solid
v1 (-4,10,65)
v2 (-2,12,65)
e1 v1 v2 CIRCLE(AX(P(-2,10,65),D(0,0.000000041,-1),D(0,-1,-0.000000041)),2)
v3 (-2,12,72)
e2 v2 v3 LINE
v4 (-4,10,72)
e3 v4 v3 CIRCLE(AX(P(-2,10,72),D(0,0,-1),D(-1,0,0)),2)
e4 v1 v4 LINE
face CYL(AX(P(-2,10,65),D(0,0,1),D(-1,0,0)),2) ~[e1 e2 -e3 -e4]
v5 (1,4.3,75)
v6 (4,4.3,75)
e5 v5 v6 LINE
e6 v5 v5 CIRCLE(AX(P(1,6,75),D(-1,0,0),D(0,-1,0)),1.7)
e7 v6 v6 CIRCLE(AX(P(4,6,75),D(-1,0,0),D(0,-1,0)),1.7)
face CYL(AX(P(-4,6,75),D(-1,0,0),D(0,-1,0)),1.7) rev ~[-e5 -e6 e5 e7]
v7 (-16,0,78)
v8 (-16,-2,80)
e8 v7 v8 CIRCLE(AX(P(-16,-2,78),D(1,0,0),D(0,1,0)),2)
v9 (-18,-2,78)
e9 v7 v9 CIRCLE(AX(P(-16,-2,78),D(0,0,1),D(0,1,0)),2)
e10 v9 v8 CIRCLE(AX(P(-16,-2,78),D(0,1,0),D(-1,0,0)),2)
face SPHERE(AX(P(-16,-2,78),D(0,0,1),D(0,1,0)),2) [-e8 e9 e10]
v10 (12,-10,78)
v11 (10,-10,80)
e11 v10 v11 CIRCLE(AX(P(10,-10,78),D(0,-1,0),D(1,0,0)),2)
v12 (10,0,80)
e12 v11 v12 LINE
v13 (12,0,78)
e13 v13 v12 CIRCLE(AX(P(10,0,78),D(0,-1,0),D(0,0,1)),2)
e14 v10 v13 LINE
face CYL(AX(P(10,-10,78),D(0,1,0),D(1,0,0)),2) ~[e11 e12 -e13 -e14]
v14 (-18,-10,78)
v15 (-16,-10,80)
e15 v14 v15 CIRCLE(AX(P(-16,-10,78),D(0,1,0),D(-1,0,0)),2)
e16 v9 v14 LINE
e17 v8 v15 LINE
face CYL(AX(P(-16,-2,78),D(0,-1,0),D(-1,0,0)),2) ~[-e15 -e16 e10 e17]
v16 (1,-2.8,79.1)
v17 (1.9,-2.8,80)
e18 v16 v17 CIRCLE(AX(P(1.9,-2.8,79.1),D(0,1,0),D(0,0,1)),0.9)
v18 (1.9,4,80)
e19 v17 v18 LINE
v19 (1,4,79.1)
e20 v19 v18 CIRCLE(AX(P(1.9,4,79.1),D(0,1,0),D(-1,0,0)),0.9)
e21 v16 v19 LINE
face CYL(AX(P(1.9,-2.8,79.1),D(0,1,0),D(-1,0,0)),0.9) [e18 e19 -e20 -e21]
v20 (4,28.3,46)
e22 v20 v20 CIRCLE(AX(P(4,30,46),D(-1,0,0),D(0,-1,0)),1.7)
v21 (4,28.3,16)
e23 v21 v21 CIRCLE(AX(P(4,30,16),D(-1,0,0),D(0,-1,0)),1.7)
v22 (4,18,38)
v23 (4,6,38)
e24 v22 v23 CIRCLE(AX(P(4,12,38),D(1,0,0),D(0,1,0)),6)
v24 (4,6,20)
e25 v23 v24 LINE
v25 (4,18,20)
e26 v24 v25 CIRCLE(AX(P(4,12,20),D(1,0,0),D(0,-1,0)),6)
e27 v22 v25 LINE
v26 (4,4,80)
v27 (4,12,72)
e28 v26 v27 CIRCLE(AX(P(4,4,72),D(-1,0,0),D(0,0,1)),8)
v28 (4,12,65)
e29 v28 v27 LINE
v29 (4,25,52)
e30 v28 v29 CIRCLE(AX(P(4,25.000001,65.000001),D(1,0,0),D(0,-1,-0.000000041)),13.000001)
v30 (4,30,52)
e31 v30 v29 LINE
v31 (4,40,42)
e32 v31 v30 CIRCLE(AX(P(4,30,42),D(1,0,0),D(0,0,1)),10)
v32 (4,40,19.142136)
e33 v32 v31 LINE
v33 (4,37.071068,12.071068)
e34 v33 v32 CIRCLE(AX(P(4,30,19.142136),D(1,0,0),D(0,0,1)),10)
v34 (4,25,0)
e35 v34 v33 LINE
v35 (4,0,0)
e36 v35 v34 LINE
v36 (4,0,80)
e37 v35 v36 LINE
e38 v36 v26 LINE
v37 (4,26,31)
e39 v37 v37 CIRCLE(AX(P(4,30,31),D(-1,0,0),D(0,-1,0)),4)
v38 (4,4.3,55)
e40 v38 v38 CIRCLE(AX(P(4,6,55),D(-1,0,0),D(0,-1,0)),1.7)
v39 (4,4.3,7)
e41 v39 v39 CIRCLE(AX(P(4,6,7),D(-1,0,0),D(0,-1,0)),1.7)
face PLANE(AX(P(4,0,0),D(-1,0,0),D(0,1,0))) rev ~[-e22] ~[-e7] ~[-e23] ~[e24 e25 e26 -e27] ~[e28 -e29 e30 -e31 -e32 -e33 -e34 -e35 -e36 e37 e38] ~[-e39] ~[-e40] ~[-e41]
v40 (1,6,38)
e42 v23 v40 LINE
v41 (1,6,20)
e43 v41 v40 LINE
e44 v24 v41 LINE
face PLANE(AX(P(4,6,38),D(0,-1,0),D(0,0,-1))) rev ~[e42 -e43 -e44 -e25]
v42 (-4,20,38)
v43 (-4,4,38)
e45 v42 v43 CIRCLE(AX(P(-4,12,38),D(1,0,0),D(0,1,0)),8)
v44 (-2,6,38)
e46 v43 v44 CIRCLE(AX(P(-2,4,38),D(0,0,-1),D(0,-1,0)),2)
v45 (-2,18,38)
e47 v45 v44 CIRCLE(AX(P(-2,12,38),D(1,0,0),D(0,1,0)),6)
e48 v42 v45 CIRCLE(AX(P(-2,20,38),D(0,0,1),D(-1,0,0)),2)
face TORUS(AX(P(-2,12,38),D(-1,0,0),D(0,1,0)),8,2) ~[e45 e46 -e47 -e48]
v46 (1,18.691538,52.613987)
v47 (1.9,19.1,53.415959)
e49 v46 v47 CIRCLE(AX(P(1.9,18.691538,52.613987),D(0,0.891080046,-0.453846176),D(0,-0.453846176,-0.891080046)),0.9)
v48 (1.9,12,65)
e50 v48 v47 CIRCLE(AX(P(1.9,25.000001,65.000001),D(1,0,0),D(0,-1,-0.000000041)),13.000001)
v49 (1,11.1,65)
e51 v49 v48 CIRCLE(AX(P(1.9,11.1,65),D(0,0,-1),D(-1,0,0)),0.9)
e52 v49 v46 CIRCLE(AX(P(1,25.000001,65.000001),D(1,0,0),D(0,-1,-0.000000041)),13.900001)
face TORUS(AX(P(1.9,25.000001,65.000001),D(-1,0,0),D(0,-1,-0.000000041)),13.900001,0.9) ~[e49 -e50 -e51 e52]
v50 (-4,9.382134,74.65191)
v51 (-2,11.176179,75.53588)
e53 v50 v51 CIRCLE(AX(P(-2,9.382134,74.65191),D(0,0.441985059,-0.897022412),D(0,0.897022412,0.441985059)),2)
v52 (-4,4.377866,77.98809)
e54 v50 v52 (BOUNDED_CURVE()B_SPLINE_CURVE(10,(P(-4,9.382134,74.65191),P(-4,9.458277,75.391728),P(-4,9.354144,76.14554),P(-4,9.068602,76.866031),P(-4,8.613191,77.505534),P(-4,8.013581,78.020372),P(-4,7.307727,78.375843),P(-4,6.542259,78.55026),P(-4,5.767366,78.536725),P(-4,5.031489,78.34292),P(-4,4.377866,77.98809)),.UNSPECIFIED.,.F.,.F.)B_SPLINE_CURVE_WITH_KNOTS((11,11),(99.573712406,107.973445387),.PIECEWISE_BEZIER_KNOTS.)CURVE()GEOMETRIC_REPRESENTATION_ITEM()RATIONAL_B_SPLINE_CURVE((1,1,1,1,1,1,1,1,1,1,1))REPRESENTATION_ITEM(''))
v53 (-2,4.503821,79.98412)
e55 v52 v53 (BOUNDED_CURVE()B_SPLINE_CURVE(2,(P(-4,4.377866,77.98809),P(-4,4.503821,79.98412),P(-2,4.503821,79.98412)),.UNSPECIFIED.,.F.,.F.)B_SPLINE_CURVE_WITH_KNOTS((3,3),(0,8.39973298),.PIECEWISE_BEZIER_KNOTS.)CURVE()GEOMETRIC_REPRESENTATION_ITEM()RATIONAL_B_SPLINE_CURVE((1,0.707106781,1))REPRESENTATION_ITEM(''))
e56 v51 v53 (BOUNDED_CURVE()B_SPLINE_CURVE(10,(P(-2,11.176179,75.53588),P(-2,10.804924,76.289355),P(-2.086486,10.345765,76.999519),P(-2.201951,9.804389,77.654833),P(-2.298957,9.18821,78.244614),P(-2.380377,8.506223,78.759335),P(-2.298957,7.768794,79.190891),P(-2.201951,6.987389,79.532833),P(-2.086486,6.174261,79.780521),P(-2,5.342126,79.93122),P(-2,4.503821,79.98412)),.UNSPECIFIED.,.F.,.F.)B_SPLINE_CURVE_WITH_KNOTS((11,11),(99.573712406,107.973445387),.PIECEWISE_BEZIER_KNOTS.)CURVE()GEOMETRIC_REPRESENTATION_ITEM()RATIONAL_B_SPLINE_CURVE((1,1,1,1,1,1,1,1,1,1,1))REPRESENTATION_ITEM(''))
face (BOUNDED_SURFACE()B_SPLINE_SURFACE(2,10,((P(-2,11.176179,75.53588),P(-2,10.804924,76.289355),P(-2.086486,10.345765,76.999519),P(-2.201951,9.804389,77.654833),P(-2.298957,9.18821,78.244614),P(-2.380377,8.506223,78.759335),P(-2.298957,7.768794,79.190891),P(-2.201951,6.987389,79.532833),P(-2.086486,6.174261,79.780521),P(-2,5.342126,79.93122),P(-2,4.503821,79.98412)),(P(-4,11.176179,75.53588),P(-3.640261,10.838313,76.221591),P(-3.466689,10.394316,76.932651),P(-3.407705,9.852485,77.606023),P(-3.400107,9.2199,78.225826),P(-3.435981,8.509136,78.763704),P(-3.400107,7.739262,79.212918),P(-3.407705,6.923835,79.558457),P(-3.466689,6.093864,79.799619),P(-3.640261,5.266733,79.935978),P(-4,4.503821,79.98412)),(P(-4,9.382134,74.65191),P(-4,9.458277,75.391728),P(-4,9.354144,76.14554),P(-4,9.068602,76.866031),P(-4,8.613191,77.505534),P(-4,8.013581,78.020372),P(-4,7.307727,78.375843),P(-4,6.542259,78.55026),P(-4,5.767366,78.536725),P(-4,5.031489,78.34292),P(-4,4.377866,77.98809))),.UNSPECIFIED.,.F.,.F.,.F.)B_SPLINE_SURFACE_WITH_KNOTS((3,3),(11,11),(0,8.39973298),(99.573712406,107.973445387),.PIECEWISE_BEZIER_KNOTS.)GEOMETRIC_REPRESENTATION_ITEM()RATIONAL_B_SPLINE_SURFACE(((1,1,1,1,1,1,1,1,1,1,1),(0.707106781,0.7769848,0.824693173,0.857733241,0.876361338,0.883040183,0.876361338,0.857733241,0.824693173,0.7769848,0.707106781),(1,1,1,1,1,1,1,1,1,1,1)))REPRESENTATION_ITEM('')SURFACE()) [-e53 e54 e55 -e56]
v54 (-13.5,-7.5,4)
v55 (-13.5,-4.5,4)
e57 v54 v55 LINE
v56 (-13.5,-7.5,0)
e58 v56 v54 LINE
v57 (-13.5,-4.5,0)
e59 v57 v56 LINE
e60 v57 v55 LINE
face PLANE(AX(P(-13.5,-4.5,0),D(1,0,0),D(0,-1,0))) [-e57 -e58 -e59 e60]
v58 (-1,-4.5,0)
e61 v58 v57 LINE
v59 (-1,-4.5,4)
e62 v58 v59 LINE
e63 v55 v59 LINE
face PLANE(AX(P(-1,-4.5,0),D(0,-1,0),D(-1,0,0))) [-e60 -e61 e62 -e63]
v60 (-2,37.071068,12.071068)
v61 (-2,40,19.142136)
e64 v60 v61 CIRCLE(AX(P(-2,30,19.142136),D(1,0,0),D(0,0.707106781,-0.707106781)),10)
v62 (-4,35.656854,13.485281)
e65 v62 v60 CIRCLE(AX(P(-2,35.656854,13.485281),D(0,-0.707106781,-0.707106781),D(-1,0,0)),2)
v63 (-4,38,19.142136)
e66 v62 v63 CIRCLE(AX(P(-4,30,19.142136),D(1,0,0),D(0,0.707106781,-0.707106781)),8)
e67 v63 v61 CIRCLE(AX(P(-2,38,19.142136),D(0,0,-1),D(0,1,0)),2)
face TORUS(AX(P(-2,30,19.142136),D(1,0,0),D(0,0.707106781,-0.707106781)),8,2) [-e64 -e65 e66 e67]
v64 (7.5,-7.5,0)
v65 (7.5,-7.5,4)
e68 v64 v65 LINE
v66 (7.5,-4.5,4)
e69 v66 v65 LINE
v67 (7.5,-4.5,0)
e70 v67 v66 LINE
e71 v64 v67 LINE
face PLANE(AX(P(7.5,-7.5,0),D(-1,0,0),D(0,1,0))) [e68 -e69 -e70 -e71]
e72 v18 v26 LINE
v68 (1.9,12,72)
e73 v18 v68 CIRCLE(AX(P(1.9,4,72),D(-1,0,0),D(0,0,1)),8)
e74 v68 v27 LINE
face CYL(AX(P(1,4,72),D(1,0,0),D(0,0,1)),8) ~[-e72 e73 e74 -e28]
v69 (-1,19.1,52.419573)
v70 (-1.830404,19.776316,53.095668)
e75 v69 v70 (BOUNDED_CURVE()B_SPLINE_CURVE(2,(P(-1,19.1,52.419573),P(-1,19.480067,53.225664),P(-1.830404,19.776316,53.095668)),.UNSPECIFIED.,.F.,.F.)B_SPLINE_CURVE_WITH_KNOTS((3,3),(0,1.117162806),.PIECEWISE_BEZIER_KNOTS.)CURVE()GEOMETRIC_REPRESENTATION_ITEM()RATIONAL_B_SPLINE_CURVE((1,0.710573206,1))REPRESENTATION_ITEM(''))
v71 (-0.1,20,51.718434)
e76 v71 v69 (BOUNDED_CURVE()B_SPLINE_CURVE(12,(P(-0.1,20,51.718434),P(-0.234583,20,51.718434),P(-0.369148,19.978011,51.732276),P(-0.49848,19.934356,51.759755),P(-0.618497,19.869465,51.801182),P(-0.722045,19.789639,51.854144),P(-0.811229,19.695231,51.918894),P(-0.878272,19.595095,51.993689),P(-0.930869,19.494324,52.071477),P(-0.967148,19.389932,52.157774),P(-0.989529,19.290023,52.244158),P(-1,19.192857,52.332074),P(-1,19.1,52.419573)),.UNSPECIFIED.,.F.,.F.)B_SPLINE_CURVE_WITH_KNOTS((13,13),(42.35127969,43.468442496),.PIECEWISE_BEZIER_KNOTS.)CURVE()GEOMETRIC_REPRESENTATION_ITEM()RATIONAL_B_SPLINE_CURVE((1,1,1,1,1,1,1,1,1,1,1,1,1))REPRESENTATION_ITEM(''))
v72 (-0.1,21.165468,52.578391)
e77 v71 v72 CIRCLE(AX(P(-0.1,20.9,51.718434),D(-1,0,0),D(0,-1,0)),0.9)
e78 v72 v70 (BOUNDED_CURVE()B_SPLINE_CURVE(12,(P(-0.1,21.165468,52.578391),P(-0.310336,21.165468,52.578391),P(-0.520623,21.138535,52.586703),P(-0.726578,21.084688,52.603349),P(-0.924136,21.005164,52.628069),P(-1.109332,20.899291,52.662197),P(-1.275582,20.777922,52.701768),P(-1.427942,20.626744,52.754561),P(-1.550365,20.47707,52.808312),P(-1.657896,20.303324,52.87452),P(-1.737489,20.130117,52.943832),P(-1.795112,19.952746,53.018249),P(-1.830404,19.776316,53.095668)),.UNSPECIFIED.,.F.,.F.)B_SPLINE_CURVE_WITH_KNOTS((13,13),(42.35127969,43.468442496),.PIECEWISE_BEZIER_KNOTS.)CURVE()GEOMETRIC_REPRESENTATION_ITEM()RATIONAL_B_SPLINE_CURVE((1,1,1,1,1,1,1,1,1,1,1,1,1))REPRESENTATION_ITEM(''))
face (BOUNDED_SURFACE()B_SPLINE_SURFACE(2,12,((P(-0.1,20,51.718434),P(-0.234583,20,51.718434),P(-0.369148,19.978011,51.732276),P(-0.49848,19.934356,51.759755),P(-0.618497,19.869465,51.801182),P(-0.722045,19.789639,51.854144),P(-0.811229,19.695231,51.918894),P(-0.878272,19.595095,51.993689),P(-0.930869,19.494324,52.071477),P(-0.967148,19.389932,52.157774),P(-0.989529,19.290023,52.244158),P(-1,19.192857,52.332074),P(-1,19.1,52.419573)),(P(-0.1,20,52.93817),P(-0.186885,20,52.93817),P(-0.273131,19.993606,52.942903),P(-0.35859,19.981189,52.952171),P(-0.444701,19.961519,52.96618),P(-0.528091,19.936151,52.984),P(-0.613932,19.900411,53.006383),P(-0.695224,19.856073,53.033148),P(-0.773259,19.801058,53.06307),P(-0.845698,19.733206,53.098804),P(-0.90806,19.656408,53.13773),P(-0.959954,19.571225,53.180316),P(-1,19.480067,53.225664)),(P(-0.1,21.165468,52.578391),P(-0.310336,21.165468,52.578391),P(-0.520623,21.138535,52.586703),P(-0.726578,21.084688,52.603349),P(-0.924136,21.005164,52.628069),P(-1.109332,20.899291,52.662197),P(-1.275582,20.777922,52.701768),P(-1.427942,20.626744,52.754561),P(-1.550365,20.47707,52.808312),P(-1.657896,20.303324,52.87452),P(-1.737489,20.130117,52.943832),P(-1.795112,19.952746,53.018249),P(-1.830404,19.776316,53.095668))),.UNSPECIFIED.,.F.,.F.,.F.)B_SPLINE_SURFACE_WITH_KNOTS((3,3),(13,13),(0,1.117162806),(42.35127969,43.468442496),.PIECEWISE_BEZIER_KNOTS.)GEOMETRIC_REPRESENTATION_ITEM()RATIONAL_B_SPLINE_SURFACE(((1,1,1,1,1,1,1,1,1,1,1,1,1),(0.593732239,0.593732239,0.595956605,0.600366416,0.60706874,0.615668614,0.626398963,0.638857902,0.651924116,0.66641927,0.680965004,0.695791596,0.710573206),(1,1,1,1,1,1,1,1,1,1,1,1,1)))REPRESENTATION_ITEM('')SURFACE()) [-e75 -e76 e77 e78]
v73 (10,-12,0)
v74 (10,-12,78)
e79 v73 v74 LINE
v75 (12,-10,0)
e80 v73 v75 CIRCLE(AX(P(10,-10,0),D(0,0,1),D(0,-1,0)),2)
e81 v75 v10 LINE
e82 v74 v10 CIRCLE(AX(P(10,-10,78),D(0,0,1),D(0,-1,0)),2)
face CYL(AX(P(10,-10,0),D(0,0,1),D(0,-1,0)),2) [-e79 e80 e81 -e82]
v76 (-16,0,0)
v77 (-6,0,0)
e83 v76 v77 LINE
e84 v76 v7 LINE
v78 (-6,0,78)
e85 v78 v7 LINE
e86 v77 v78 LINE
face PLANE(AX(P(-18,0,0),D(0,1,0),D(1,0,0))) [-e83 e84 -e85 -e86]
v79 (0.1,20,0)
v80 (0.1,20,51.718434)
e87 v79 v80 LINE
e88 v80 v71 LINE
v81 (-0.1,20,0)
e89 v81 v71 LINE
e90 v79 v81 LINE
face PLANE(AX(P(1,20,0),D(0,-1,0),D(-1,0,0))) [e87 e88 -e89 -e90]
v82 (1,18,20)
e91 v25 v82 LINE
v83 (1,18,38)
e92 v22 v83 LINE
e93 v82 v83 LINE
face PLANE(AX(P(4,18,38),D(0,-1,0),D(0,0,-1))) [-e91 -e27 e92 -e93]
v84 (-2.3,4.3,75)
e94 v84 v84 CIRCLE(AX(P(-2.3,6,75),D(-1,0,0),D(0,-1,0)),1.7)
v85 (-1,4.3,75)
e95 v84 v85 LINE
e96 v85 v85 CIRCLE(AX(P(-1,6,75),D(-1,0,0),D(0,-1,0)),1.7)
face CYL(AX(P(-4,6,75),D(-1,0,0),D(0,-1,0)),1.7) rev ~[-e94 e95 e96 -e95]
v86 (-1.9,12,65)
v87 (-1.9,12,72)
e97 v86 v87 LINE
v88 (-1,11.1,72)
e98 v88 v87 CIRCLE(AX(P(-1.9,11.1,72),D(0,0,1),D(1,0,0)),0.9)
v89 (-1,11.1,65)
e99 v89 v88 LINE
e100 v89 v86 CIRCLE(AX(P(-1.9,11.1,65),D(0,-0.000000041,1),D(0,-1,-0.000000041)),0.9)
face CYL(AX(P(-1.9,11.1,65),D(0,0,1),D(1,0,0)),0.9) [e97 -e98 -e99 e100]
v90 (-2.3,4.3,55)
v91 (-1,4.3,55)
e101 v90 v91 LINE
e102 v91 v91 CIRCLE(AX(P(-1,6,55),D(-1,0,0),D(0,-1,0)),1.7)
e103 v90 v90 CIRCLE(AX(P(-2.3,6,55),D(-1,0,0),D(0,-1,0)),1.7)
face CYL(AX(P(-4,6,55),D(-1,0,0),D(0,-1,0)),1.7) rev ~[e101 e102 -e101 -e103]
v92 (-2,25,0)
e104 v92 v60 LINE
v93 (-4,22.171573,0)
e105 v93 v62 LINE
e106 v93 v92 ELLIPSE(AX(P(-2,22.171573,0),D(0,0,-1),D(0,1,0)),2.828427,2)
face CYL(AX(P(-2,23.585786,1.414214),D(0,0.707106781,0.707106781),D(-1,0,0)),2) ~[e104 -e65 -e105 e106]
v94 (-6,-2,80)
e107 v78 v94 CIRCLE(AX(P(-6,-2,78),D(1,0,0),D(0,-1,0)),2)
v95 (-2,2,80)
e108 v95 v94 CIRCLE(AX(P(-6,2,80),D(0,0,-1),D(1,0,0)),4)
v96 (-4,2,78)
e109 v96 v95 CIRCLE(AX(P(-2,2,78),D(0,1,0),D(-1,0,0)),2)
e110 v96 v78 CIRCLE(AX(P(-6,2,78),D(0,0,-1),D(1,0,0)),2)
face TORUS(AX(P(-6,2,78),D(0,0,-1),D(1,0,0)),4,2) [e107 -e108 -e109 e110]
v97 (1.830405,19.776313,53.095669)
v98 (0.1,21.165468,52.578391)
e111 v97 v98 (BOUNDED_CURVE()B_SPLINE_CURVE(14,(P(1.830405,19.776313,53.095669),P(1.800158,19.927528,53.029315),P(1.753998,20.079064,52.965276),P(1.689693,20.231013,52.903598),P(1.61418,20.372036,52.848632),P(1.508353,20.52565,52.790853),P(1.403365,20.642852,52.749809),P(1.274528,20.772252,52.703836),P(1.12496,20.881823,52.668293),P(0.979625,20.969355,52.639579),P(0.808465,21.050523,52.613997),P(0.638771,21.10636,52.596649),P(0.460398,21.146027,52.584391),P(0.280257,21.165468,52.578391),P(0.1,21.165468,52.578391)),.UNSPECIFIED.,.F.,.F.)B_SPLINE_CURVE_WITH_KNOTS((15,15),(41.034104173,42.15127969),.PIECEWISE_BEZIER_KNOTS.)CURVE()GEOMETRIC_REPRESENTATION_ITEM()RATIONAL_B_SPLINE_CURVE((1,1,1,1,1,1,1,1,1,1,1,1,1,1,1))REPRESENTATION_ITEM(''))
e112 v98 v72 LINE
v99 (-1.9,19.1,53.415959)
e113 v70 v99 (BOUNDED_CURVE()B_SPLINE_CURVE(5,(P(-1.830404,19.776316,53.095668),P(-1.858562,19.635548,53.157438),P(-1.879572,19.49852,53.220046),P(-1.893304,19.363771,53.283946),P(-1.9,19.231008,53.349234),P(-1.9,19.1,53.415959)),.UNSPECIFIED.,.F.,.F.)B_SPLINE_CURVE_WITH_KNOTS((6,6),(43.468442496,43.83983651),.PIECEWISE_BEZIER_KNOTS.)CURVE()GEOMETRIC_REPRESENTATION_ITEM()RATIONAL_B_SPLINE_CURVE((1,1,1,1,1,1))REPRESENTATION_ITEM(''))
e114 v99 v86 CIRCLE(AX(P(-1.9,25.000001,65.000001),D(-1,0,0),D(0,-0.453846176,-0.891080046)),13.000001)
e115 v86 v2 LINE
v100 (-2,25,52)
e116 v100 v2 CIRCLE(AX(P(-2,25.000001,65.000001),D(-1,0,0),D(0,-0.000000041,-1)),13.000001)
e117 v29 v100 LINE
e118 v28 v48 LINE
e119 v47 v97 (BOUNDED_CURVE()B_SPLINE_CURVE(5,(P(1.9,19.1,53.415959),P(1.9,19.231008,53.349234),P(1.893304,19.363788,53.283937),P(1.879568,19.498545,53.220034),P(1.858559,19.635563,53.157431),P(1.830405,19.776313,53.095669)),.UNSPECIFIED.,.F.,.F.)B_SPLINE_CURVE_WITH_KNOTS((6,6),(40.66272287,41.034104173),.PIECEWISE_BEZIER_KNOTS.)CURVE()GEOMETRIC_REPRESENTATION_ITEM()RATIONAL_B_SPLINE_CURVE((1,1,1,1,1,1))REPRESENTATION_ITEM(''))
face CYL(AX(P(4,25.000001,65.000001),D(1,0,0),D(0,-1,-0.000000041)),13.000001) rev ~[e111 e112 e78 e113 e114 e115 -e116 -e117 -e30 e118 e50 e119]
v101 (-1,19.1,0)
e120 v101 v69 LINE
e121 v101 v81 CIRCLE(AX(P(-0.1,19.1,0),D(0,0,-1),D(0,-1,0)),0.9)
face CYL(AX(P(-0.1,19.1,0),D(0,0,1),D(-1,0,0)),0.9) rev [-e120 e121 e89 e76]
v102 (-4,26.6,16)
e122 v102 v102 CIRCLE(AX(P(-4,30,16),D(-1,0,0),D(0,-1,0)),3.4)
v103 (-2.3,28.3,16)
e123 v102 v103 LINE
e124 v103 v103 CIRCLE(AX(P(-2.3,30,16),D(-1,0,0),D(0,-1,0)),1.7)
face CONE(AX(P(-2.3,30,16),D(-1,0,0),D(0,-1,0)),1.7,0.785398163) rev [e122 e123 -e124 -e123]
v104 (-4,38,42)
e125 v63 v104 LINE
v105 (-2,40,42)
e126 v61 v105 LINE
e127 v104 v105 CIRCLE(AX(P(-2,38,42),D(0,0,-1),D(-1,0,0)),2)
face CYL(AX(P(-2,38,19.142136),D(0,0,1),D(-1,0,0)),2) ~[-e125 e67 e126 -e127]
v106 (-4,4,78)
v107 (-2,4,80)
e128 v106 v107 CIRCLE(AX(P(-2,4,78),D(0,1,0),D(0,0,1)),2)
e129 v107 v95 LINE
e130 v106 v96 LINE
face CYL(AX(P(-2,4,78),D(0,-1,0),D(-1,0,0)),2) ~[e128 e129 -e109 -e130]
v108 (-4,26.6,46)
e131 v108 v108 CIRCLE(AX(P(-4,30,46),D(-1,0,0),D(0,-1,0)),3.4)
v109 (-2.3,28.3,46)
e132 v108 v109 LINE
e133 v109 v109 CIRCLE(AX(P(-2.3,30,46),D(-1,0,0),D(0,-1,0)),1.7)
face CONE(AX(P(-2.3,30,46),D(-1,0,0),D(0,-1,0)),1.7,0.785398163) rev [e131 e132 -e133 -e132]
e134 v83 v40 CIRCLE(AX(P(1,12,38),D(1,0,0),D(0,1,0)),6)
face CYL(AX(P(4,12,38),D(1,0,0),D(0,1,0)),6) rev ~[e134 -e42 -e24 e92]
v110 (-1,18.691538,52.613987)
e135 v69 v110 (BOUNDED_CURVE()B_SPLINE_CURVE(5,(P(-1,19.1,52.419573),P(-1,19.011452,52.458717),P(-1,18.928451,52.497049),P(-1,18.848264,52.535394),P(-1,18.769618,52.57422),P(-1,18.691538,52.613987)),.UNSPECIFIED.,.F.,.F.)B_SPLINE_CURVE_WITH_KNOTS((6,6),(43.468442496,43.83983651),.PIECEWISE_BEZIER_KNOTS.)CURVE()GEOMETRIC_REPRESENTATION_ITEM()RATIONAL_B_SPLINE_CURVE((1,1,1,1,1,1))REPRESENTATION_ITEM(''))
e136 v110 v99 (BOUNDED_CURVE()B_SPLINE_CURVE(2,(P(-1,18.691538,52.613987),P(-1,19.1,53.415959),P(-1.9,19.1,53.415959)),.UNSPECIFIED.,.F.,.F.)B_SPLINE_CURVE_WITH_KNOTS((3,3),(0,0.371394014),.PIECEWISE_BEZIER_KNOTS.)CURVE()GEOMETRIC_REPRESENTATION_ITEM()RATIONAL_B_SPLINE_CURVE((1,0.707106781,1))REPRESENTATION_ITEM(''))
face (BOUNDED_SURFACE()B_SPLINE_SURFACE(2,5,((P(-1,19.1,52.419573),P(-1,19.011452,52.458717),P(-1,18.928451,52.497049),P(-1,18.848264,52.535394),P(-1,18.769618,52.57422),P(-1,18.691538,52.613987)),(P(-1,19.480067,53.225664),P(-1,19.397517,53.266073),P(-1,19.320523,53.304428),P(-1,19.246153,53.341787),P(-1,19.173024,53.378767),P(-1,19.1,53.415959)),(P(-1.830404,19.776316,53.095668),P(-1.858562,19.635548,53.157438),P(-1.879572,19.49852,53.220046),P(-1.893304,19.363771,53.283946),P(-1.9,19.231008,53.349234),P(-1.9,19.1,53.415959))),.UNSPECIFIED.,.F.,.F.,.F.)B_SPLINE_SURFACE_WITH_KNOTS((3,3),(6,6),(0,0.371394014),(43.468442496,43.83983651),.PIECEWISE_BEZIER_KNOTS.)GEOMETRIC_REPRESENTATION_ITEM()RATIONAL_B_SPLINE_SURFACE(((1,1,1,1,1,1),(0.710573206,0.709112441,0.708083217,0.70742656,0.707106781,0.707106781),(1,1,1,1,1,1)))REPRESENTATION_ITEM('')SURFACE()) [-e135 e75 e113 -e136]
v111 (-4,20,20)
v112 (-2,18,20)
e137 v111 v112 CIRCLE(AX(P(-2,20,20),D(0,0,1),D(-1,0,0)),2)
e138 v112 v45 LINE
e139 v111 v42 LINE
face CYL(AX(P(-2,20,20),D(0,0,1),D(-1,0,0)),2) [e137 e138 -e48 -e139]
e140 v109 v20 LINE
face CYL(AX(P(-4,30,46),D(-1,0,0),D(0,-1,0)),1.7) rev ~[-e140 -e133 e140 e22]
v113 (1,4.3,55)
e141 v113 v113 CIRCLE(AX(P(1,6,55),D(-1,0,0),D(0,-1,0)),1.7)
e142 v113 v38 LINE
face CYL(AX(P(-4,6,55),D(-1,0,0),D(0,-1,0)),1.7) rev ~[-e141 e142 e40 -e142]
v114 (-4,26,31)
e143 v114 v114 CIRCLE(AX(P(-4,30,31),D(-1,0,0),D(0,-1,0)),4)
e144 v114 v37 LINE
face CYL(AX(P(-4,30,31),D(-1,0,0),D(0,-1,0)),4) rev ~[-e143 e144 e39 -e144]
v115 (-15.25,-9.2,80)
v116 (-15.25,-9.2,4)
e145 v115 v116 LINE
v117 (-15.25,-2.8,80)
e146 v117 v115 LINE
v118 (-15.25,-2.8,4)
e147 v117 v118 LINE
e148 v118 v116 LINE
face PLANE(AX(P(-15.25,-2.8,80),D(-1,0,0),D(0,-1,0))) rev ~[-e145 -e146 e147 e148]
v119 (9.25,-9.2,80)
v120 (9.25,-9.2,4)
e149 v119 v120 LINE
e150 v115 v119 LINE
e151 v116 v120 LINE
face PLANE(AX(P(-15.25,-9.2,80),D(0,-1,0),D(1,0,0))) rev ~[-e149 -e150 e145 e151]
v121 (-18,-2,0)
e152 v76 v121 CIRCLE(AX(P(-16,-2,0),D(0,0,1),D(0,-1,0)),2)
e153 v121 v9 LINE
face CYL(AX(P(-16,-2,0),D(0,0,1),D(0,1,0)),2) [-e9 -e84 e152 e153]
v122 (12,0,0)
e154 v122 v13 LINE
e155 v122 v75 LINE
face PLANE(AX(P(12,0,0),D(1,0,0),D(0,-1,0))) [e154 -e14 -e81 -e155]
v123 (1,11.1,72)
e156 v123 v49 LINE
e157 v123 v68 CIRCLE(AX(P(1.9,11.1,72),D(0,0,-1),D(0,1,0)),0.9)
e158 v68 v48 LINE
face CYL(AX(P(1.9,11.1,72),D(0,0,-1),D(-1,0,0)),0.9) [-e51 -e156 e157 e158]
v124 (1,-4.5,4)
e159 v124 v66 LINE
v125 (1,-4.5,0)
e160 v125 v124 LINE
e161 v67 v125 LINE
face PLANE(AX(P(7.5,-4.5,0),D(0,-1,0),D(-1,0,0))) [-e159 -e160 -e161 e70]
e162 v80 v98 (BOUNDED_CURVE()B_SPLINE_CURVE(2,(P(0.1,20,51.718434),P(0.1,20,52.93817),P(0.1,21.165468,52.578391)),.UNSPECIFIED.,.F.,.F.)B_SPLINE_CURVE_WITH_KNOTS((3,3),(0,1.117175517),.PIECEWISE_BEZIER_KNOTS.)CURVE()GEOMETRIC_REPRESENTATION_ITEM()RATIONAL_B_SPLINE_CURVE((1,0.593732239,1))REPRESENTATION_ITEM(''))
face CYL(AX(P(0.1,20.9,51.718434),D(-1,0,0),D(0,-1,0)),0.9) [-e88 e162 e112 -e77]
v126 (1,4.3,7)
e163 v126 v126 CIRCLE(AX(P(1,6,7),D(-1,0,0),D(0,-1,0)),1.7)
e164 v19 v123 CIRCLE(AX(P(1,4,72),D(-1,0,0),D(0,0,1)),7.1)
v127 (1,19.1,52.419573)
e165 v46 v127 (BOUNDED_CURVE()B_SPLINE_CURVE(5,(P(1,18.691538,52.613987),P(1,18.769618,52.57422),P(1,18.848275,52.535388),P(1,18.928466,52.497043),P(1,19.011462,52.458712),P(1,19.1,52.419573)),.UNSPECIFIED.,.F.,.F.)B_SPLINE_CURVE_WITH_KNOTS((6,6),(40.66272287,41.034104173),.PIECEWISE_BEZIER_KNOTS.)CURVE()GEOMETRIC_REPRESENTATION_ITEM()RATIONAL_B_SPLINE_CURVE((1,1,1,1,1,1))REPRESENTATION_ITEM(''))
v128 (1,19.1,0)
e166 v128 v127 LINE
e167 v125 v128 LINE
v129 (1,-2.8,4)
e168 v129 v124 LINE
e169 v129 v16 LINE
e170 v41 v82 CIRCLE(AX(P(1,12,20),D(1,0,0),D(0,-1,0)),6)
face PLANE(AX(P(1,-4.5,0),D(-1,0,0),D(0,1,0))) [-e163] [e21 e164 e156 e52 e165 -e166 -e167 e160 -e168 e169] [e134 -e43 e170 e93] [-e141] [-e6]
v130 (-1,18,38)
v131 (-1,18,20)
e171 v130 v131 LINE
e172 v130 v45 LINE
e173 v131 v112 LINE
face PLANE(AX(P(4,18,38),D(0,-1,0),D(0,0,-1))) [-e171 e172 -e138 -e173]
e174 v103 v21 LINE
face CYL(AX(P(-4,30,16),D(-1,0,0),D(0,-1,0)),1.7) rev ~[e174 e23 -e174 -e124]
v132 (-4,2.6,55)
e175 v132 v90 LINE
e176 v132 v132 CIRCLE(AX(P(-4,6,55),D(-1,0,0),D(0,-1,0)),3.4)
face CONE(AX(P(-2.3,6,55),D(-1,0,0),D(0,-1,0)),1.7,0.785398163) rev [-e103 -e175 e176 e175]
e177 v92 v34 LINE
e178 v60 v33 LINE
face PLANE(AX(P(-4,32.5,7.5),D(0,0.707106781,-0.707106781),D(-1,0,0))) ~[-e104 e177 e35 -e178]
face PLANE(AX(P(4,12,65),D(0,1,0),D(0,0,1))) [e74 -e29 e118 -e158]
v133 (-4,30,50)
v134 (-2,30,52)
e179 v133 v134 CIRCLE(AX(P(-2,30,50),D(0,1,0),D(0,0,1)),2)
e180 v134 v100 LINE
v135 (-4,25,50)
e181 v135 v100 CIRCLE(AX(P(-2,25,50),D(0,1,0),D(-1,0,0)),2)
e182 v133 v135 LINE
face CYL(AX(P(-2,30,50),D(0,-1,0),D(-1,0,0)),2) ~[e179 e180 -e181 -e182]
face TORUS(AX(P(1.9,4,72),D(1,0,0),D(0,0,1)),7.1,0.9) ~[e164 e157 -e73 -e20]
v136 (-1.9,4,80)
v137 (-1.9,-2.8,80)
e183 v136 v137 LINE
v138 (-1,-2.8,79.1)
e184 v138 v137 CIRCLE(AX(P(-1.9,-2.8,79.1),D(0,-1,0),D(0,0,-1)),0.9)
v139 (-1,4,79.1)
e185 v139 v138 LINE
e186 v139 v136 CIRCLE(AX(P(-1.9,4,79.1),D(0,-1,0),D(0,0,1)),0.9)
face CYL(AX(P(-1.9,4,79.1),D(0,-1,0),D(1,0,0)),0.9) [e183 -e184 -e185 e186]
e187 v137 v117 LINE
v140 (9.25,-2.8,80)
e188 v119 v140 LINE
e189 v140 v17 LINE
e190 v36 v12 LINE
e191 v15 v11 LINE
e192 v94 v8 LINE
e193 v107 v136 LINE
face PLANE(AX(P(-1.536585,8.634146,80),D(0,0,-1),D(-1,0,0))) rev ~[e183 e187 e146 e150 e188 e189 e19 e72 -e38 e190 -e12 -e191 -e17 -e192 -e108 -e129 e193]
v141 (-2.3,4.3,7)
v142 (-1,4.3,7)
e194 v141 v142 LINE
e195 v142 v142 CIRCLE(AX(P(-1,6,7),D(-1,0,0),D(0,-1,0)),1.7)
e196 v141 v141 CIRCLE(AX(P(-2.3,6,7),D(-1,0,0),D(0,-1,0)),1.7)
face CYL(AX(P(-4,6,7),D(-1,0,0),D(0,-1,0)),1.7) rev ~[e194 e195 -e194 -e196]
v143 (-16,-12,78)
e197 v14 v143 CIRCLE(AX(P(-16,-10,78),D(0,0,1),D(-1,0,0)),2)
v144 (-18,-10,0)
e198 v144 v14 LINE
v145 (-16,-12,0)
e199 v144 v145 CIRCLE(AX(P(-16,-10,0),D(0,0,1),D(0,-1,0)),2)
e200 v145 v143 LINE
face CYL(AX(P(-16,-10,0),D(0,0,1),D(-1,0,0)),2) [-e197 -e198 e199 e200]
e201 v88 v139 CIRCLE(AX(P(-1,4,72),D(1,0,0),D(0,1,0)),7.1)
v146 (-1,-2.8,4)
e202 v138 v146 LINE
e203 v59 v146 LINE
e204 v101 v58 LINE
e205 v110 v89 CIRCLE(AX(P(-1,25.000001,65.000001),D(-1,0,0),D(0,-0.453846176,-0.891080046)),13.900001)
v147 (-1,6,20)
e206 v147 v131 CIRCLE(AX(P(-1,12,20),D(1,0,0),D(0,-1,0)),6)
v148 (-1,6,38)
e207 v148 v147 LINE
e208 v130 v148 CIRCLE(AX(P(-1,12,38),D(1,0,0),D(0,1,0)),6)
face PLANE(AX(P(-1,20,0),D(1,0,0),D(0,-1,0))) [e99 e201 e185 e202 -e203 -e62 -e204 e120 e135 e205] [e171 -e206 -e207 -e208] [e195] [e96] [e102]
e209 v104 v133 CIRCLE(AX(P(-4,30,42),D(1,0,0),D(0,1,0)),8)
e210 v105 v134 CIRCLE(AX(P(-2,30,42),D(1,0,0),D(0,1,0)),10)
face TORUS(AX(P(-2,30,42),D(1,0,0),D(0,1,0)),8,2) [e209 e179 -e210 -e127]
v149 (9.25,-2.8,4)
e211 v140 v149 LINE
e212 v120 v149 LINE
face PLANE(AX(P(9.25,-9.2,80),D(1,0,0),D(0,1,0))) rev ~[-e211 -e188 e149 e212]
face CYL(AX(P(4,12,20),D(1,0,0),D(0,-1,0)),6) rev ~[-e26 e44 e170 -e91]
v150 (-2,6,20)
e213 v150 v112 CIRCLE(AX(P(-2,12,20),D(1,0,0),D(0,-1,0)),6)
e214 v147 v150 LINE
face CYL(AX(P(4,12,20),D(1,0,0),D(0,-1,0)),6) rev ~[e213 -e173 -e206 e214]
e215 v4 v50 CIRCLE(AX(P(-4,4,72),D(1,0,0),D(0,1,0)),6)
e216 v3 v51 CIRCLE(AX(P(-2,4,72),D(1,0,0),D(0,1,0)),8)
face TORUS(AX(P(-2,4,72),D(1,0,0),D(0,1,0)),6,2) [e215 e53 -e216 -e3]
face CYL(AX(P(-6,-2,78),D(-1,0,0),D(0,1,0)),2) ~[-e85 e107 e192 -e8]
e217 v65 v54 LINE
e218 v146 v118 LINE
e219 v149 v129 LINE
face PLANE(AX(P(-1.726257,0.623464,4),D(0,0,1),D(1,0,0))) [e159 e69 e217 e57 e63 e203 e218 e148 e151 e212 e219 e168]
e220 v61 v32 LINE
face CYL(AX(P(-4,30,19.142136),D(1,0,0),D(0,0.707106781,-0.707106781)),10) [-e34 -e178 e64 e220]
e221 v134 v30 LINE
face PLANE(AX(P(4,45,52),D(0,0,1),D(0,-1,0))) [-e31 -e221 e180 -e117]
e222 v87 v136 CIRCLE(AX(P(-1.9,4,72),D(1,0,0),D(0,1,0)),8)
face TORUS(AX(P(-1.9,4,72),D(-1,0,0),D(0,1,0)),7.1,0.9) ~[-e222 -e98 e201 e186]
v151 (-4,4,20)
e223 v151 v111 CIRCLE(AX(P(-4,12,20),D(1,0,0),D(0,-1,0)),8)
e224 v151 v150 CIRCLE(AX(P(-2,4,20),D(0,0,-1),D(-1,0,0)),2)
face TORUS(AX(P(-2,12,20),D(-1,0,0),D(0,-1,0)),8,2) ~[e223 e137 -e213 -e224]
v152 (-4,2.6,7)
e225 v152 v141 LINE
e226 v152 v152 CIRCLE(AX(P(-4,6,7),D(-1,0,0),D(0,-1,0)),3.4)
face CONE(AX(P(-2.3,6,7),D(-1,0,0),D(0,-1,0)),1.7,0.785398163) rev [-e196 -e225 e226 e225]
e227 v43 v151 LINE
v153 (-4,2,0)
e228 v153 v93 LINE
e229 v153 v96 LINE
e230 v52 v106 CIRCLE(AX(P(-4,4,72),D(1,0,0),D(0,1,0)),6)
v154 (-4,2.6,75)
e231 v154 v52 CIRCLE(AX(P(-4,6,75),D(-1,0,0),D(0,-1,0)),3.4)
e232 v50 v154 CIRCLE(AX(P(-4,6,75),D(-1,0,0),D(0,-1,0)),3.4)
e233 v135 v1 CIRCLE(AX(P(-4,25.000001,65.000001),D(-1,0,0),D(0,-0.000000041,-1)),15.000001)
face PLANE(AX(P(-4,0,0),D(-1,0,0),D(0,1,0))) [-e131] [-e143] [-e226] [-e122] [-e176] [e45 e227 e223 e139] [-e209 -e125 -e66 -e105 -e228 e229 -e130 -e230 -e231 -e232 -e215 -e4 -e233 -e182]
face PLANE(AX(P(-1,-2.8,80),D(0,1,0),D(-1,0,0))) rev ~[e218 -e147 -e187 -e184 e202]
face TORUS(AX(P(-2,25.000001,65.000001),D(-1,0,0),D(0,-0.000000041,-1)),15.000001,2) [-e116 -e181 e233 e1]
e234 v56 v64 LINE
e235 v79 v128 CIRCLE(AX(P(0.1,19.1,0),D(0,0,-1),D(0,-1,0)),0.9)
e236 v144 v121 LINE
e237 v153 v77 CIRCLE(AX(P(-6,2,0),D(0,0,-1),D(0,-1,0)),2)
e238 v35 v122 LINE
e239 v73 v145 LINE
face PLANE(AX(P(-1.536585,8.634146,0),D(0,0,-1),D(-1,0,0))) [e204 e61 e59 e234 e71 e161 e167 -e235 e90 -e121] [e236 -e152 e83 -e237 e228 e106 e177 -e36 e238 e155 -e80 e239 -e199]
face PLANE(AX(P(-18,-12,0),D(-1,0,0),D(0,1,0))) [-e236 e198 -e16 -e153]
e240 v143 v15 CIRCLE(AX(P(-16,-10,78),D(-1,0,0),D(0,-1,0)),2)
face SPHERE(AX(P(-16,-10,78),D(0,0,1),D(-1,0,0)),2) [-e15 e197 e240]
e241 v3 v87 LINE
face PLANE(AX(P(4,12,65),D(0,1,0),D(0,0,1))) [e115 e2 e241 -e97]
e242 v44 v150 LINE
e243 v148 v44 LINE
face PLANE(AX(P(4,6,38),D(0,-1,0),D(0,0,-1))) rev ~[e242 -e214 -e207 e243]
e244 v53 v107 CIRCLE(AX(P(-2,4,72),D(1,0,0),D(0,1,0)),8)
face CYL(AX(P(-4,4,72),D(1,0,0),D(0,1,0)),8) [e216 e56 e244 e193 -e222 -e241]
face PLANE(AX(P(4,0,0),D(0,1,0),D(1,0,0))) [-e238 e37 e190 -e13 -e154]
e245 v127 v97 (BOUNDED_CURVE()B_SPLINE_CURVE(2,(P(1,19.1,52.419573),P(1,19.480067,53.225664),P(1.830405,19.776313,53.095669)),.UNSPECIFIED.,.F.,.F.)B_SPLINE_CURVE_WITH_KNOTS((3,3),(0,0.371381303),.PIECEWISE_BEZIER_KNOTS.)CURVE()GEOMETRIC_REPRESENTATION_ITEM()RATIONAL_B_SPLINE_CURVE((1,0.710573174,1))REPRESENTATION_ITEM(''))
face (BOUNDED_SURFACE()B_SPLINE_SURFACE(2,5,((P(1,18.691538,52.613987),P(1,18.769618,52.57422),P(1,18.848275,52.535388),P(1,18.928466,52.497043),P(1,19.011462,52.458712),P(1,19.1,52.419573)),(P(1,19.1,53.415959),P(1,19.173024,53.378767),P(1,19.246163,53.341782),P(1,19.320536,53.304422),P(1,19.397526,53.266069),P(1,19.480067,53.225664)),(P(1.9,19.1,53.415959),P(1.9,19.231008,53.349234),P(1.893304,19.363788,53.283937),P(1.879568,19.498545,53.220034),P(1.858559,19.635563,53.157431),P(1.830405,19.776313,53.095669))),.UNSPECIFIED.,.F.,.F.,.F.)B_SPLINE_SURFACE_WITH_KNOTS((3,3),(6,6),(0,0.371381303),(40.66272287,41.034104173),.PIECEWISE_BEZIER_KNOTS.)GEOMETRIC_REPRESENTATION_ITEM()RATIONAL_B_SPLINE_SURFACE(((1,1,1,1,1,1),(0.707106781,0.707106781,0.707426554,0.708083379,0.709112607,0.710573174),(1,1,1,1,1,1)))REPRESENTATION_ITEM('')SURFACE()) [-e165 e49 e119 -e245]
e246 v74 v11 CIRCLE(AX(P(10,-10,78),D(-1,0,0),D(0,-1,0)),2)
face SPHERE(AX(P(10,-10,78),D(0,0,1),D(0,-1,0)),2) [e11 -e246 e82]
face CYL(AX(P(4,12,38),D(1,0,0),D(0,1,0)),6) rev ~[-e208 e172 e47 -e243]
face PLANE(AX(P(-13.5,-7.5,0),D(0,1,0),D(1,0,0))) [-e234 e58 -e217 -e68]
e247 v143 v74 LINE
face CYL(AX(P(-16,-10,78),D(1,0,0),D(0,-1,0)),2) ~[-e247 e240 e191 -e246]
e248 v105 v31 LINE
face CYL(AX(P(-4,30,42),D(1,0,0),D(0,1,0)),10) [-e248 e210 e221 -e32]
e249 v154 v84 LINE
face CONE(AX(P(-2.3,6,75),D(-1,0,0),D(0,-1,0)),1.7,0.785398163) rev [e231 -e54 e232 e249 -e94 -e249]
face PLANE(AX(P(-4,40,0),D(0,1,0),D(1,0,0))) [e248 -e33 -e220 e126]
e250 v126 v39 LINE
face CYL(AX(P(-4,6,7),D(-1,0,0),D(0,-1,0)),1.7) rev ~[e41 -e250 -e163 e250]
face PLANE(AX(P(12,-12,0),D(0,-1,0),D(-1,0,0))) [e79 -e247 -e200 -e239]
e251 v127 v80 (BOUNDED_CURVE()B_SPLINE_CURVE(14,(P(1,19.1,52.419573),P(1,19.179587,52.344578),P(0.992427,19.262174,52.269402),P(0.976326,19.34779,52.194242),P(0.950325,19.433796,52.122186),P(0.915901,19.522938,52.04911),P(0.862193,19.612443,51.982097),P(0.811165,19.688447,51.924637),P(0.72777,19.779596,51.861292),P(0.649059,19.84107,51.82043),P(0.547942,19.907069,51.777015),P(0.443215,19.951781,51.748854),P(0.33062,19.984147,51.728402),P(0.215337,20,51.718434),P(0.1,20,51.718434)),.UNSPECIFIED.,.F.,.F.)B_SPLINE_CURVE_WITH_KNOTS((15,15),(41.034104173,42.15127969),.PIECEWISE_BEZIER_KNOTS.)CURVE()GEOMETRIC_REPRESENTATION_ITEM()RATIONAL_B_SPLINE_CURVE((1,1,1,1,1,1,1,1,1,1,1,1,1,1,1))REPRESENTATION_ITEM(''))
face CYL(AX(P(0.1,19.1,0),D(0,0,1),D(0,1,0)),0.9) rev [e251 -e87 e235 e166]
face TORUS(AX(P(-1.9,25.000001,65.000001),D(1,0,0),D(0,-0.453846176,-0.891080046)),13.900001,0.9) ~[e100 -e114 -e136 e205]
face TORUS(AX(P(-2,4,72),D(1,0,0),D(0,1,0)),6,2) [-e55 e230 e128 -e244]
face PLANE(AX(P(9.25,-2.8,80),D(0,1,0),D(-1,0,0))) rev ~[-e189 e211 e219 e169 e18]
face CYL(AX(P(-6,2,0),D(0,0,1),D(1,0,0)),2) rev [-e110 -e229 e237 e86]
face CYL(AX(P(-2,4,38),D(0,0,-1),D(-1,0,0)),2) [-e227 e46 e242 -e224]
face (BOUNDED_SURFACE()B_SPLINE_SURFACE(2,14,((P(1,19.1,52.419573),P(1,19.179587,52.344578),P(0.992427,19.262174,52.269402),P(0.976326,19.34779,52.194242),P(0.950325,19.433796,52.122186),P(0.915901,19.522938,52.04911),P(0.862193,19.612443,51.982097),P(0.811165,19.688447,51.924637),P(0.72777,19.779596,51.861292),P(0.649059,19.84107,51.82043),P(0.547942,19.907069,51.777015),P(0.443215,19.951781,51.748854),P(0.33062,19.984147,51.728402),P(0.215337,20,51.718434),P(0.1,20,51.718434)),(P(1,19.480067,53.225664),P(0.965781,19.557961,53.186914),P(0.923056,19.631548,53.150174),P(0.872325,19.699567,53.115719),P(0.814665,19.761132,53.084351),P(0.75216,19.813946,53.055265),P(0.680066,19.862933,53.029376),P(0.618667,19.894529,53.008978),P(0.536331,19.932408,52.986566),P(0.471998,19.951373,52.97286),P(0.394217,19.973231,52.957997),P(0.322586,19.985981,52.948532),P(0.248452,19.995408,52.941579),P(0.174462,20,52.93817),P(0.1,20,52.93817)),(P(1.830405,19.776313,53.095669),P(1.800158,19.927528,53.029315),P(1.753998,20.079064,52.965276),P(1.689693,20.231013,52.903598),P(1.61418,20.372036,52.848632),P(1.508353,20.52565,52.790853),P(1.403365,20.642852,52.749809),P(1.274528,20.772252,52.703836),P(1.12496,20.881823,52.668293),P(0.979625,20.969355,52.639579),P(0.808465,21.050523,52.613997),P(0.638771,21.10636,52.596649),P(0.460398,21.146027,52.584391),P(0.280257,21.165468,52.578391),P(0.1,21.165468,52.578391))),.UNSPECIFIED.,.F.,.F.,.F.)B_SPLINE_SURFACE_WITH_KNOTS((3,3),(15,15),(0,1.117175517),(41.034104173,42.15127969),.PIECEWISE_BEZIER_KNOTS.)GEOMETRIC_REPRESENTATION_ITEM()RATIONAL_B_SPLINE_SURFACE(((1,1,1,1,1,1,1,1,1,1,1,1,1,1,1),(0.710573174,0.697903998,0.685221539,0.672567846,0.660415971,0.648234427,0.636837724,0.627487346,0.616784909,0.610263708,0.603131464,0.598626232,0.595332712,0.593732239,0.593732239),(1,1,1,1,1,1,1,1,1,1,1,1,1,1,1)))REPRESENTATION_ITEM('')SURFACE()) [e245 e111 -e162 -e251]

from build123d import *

# Parameters (mm, degrees)
PAD_DEPTH       = 80
POCKET_DEPTH    = 76
SKETCH002_R     = 1.7
SKETCH002_R_2   = 4
POCKET001_DEPTH = 16.001
POCKET002_DEPTH = 5
POCKET003_DEPTH = 22.001
CHAMFER_SIZE    = 15
FILLET_R        = 10
FILLET001_R     = 10
FILLET002_R     = 8
FILLET003_R     = 8
CHAMFER001_SIZE = 1.7
CHAMFER002_SIZE = 1.7
CHAMFER003_SIZE = 1.7
CHAMFER004_SIZE = 1.7
CHAMFER005_SIZE = 1.7
FILLET004_R     = 2
FILLET005_R     = 2
FILLET006_R     = 2
FILLET007_R     = 2
FILLET008_R     = 2
FILLET009_R     = 2
FILLET010_R     = 0.9
FILLET011_R     = 0.9
FILLET012_R     = 0.9


with BuildPart() as part:
    # Sketch → Pad (new body)
    with BuildSketch(Plane.XY):
        Polygon((-4, 0), (-4, 40), (4, 40), (4, 18), (4, 0), (12, 0), (12, -12), (-18, -12), (-18, 0), align=None)
    extrude(amount=PAD_DEPTH)

    # Sketch001 → Pocket (cut)
    with BuildSketch(Plane.XY.offset(80)):
        Polygon((1, -2.8), (1, 20), (-1, 20), (-1, -2.8), (-15.25, -2.8), (-15.25, -9.2), (9.25, -9.2), (9.25, -2.8), align=None)
    extrude(amount=-POCKET_DEPTH, mode=Mode.SUBTRACT)

    # Sketch002 → Pocket001 (cut, through all)
    with BuildSketch(Plane(origin=(-4, 0, 0), x_dir=(0, -1, 0), z_dir=(-1, 0, 0))):
        with Locations((-6, 7)):
            Circle(SKETCH002_R)
        with Locations((-6, 55)):
            Circle(SKETCH002_R)
        with Locations((-6, 75)):
            Circle(SKETCH002_R)
        with Locations((-30, 46)):
            Circle(SKETCH002_R)
        with Locations((-30, 16)):
            Circle(SKETCH002_R)
        with Locations((-30, 31)):
            Circle(SKETCH002_R_2)
    extrude(amount=-POCKET001_DEPTH, mode=Mode.SUBTRACT)

    # Sketch003 → Pocket002 (cut)
    with BuildSketch(Plane(origin=(0, 0, 0), x_dir=(1, 0, 0), z_dir=(0, 0, -1))):
        Polygon((-13.5, 7.5), (7.5, 7.5), (7.5, 4.5), (1, 4.5), (1, -20), (-1, -20), (-1, 4.5), (-13.5, 4.5), align=None)
    extrude(amount=-POCKET002_DEPTH, mode=Mode.SUBTRACT)

    # Sketch004 → Pocket003 (cut, through all)
    with BuildSketch(Plane.YZ.offset(4)):
        with BuildLine():
            Line((12, 85), (45, 85))
            Line((45, 85), (45, 52))
            Line((45, 52), (25, 52))
            ThreePointArc((12, 65), (15.807612, 55.807612), (25, 52))
            Line((12, 65), (12, 85))
        make_face()
        with BuildLine():
            ThreePointArc((18, 38), (12, 44), (6, 38))
            Line((6, 38), (6, 20))
            ThreePointArc((6, 20), (12, 14), (18, 20))
            Line((18, 38), (18, 20))
        make_face()
    extrude(amount=-POCKET003_DEPTH, mode=Mode.SUBTRACT)

    # Chamfer
    chamfer_edges = [part.edges().sort_by_distance(p)[0] for p in [
        (0, 40, 0),
    ]]
    chamfer(chamfer_edges, length=CHAMFER_SIZE)

    # Fillet
    fillet_edges = [part.edges().sort_by_distance(p)[0] for p in [
        (0, 40, 15),
    ]]
    fillet(fillet_edges, radius=FILLET_R)

    # Fillet001
    fillet001_edges = [part.edges().sort_by_distance(p)[0] for p in [
        (0, 40, 52),
    ]]
    fillet(fillet001_edges, radius=FILLET001_R)

    # Fillet002
    fillet002_edges = [part.edges().sort_by_distance(p)[0] for p in [
        (-2.5, 12, 80),
    ]]
    fillet(fillet002_edges, radius=FILLET002_R)

    # Fillet003
    fillet003_edges = [part.edges().sort_by_distance(p)[0] for p in [
        (2.5, 12, 80),
    ]]
    fillet(fillet003_edges, radius=FILLET003_R)

    # Chamfer001
    chamfer001_edges = [part.edges().sort_by_distance(p)[0] for p in [
        (-4, 7.7, 75),
    ]]
    chamfer(chamfer001_edges, length=CHAMFER001_SIZE)

    # Chamfer002
    chamfer002_edges = [part.edges().sort_by_distance(p)[0] for p in [
        (-4, 7.7, 55),
    ]]
    chamfer(chamfer002_edges, length=CHAMFER002_SIZE)

    # Chamfer003
    chamfer003_edges = [part.edges().sort_by_distance(p)[0] for p in [
        (-4, 31.7, 46),
    ]]
    chamfer(chamfer003_edges, length=CHAMFER003_SIZE)

    # Chamfer004
    chamfer004_edges = [part.edges().sort_by_distance(p)[0] for p in [
        (-4, 31.7, 16),
    ]]
    chamfer(chamfer004_edges, length=CHAMFER004_SIZE)

    # Chamfer005
    chamfer005_edges = [part.edges().sort_by_distance(p)[0] for p in [
        (-4, 7.7, 7),
    ]]
    chamfer(chamfer005_edges, length=CHAMFER005_SIZE)

    # Fillet004
    fillet004_edges = [part.edges().sort_by_distance(p)[0] for p in [
        (-4, 0, 40),
    ]]
    fillet(fillet004_edges, radius=FILLET004_R)

    # Fillet005
    fillet005_edges = [part.edges().sort_by_distance(p)[0] for p in [
        (-18, 0, 40),
    ]]
    fillet(fillet005_edges, radius=FILLET005_R)

    # Fillet006
    fillet006_edges = [part.edges().sort_by_distance(p)[0] for p in [
        (-18, -12, 40),
    ]]
    fillet(fillet006_edges, radius=FILLET006_R)

    # Fillet007
    fillet007_edges = [part.edges().sort_by_distance(p)[0] for p in [
        (12, -12, 40),
    ]]
    fillet(fillet007_edges, radius=FILLET007_R)

    # Fillet008
    fillet008_edges = [part.edges().sort_by_distance(p)[0] for p in [
        (-4, 40, 30.571068),
    ]]
    fillet(fillet008_edges, radius=FILLET008_R)

    # Fillet009
    fillet009_edges = [part.edges().sort_by_distance(p)[0] for p in [
        (-4, 18, 29),
    ]]
    fillet(fillet009_edges, radius=FILLET009_R)

    # Fillet010
    fillet010_edges = [part.edges().sort_by_distance(p)[0] for p in [
        (-1, 20, 29),
    ]]
    fillet(fillet010_edges, radius=FILLET010_R)

    # Fillet011
    fillet011_edges = [part.edges().sort_by_distance(p)[0] for p in [
        (1, 20, 29),
    ]]
    fillet(fillet011_edges, radius=FILLET011_R)

    # Fillet012
    fillet012_edges = [part.edges().sort_by_distance(p)[0] for p in [
        (1, 0.6, 80),
    ]]
    fillet(fillet012_edges, radius=FILLET012_R)


solid = part.part
